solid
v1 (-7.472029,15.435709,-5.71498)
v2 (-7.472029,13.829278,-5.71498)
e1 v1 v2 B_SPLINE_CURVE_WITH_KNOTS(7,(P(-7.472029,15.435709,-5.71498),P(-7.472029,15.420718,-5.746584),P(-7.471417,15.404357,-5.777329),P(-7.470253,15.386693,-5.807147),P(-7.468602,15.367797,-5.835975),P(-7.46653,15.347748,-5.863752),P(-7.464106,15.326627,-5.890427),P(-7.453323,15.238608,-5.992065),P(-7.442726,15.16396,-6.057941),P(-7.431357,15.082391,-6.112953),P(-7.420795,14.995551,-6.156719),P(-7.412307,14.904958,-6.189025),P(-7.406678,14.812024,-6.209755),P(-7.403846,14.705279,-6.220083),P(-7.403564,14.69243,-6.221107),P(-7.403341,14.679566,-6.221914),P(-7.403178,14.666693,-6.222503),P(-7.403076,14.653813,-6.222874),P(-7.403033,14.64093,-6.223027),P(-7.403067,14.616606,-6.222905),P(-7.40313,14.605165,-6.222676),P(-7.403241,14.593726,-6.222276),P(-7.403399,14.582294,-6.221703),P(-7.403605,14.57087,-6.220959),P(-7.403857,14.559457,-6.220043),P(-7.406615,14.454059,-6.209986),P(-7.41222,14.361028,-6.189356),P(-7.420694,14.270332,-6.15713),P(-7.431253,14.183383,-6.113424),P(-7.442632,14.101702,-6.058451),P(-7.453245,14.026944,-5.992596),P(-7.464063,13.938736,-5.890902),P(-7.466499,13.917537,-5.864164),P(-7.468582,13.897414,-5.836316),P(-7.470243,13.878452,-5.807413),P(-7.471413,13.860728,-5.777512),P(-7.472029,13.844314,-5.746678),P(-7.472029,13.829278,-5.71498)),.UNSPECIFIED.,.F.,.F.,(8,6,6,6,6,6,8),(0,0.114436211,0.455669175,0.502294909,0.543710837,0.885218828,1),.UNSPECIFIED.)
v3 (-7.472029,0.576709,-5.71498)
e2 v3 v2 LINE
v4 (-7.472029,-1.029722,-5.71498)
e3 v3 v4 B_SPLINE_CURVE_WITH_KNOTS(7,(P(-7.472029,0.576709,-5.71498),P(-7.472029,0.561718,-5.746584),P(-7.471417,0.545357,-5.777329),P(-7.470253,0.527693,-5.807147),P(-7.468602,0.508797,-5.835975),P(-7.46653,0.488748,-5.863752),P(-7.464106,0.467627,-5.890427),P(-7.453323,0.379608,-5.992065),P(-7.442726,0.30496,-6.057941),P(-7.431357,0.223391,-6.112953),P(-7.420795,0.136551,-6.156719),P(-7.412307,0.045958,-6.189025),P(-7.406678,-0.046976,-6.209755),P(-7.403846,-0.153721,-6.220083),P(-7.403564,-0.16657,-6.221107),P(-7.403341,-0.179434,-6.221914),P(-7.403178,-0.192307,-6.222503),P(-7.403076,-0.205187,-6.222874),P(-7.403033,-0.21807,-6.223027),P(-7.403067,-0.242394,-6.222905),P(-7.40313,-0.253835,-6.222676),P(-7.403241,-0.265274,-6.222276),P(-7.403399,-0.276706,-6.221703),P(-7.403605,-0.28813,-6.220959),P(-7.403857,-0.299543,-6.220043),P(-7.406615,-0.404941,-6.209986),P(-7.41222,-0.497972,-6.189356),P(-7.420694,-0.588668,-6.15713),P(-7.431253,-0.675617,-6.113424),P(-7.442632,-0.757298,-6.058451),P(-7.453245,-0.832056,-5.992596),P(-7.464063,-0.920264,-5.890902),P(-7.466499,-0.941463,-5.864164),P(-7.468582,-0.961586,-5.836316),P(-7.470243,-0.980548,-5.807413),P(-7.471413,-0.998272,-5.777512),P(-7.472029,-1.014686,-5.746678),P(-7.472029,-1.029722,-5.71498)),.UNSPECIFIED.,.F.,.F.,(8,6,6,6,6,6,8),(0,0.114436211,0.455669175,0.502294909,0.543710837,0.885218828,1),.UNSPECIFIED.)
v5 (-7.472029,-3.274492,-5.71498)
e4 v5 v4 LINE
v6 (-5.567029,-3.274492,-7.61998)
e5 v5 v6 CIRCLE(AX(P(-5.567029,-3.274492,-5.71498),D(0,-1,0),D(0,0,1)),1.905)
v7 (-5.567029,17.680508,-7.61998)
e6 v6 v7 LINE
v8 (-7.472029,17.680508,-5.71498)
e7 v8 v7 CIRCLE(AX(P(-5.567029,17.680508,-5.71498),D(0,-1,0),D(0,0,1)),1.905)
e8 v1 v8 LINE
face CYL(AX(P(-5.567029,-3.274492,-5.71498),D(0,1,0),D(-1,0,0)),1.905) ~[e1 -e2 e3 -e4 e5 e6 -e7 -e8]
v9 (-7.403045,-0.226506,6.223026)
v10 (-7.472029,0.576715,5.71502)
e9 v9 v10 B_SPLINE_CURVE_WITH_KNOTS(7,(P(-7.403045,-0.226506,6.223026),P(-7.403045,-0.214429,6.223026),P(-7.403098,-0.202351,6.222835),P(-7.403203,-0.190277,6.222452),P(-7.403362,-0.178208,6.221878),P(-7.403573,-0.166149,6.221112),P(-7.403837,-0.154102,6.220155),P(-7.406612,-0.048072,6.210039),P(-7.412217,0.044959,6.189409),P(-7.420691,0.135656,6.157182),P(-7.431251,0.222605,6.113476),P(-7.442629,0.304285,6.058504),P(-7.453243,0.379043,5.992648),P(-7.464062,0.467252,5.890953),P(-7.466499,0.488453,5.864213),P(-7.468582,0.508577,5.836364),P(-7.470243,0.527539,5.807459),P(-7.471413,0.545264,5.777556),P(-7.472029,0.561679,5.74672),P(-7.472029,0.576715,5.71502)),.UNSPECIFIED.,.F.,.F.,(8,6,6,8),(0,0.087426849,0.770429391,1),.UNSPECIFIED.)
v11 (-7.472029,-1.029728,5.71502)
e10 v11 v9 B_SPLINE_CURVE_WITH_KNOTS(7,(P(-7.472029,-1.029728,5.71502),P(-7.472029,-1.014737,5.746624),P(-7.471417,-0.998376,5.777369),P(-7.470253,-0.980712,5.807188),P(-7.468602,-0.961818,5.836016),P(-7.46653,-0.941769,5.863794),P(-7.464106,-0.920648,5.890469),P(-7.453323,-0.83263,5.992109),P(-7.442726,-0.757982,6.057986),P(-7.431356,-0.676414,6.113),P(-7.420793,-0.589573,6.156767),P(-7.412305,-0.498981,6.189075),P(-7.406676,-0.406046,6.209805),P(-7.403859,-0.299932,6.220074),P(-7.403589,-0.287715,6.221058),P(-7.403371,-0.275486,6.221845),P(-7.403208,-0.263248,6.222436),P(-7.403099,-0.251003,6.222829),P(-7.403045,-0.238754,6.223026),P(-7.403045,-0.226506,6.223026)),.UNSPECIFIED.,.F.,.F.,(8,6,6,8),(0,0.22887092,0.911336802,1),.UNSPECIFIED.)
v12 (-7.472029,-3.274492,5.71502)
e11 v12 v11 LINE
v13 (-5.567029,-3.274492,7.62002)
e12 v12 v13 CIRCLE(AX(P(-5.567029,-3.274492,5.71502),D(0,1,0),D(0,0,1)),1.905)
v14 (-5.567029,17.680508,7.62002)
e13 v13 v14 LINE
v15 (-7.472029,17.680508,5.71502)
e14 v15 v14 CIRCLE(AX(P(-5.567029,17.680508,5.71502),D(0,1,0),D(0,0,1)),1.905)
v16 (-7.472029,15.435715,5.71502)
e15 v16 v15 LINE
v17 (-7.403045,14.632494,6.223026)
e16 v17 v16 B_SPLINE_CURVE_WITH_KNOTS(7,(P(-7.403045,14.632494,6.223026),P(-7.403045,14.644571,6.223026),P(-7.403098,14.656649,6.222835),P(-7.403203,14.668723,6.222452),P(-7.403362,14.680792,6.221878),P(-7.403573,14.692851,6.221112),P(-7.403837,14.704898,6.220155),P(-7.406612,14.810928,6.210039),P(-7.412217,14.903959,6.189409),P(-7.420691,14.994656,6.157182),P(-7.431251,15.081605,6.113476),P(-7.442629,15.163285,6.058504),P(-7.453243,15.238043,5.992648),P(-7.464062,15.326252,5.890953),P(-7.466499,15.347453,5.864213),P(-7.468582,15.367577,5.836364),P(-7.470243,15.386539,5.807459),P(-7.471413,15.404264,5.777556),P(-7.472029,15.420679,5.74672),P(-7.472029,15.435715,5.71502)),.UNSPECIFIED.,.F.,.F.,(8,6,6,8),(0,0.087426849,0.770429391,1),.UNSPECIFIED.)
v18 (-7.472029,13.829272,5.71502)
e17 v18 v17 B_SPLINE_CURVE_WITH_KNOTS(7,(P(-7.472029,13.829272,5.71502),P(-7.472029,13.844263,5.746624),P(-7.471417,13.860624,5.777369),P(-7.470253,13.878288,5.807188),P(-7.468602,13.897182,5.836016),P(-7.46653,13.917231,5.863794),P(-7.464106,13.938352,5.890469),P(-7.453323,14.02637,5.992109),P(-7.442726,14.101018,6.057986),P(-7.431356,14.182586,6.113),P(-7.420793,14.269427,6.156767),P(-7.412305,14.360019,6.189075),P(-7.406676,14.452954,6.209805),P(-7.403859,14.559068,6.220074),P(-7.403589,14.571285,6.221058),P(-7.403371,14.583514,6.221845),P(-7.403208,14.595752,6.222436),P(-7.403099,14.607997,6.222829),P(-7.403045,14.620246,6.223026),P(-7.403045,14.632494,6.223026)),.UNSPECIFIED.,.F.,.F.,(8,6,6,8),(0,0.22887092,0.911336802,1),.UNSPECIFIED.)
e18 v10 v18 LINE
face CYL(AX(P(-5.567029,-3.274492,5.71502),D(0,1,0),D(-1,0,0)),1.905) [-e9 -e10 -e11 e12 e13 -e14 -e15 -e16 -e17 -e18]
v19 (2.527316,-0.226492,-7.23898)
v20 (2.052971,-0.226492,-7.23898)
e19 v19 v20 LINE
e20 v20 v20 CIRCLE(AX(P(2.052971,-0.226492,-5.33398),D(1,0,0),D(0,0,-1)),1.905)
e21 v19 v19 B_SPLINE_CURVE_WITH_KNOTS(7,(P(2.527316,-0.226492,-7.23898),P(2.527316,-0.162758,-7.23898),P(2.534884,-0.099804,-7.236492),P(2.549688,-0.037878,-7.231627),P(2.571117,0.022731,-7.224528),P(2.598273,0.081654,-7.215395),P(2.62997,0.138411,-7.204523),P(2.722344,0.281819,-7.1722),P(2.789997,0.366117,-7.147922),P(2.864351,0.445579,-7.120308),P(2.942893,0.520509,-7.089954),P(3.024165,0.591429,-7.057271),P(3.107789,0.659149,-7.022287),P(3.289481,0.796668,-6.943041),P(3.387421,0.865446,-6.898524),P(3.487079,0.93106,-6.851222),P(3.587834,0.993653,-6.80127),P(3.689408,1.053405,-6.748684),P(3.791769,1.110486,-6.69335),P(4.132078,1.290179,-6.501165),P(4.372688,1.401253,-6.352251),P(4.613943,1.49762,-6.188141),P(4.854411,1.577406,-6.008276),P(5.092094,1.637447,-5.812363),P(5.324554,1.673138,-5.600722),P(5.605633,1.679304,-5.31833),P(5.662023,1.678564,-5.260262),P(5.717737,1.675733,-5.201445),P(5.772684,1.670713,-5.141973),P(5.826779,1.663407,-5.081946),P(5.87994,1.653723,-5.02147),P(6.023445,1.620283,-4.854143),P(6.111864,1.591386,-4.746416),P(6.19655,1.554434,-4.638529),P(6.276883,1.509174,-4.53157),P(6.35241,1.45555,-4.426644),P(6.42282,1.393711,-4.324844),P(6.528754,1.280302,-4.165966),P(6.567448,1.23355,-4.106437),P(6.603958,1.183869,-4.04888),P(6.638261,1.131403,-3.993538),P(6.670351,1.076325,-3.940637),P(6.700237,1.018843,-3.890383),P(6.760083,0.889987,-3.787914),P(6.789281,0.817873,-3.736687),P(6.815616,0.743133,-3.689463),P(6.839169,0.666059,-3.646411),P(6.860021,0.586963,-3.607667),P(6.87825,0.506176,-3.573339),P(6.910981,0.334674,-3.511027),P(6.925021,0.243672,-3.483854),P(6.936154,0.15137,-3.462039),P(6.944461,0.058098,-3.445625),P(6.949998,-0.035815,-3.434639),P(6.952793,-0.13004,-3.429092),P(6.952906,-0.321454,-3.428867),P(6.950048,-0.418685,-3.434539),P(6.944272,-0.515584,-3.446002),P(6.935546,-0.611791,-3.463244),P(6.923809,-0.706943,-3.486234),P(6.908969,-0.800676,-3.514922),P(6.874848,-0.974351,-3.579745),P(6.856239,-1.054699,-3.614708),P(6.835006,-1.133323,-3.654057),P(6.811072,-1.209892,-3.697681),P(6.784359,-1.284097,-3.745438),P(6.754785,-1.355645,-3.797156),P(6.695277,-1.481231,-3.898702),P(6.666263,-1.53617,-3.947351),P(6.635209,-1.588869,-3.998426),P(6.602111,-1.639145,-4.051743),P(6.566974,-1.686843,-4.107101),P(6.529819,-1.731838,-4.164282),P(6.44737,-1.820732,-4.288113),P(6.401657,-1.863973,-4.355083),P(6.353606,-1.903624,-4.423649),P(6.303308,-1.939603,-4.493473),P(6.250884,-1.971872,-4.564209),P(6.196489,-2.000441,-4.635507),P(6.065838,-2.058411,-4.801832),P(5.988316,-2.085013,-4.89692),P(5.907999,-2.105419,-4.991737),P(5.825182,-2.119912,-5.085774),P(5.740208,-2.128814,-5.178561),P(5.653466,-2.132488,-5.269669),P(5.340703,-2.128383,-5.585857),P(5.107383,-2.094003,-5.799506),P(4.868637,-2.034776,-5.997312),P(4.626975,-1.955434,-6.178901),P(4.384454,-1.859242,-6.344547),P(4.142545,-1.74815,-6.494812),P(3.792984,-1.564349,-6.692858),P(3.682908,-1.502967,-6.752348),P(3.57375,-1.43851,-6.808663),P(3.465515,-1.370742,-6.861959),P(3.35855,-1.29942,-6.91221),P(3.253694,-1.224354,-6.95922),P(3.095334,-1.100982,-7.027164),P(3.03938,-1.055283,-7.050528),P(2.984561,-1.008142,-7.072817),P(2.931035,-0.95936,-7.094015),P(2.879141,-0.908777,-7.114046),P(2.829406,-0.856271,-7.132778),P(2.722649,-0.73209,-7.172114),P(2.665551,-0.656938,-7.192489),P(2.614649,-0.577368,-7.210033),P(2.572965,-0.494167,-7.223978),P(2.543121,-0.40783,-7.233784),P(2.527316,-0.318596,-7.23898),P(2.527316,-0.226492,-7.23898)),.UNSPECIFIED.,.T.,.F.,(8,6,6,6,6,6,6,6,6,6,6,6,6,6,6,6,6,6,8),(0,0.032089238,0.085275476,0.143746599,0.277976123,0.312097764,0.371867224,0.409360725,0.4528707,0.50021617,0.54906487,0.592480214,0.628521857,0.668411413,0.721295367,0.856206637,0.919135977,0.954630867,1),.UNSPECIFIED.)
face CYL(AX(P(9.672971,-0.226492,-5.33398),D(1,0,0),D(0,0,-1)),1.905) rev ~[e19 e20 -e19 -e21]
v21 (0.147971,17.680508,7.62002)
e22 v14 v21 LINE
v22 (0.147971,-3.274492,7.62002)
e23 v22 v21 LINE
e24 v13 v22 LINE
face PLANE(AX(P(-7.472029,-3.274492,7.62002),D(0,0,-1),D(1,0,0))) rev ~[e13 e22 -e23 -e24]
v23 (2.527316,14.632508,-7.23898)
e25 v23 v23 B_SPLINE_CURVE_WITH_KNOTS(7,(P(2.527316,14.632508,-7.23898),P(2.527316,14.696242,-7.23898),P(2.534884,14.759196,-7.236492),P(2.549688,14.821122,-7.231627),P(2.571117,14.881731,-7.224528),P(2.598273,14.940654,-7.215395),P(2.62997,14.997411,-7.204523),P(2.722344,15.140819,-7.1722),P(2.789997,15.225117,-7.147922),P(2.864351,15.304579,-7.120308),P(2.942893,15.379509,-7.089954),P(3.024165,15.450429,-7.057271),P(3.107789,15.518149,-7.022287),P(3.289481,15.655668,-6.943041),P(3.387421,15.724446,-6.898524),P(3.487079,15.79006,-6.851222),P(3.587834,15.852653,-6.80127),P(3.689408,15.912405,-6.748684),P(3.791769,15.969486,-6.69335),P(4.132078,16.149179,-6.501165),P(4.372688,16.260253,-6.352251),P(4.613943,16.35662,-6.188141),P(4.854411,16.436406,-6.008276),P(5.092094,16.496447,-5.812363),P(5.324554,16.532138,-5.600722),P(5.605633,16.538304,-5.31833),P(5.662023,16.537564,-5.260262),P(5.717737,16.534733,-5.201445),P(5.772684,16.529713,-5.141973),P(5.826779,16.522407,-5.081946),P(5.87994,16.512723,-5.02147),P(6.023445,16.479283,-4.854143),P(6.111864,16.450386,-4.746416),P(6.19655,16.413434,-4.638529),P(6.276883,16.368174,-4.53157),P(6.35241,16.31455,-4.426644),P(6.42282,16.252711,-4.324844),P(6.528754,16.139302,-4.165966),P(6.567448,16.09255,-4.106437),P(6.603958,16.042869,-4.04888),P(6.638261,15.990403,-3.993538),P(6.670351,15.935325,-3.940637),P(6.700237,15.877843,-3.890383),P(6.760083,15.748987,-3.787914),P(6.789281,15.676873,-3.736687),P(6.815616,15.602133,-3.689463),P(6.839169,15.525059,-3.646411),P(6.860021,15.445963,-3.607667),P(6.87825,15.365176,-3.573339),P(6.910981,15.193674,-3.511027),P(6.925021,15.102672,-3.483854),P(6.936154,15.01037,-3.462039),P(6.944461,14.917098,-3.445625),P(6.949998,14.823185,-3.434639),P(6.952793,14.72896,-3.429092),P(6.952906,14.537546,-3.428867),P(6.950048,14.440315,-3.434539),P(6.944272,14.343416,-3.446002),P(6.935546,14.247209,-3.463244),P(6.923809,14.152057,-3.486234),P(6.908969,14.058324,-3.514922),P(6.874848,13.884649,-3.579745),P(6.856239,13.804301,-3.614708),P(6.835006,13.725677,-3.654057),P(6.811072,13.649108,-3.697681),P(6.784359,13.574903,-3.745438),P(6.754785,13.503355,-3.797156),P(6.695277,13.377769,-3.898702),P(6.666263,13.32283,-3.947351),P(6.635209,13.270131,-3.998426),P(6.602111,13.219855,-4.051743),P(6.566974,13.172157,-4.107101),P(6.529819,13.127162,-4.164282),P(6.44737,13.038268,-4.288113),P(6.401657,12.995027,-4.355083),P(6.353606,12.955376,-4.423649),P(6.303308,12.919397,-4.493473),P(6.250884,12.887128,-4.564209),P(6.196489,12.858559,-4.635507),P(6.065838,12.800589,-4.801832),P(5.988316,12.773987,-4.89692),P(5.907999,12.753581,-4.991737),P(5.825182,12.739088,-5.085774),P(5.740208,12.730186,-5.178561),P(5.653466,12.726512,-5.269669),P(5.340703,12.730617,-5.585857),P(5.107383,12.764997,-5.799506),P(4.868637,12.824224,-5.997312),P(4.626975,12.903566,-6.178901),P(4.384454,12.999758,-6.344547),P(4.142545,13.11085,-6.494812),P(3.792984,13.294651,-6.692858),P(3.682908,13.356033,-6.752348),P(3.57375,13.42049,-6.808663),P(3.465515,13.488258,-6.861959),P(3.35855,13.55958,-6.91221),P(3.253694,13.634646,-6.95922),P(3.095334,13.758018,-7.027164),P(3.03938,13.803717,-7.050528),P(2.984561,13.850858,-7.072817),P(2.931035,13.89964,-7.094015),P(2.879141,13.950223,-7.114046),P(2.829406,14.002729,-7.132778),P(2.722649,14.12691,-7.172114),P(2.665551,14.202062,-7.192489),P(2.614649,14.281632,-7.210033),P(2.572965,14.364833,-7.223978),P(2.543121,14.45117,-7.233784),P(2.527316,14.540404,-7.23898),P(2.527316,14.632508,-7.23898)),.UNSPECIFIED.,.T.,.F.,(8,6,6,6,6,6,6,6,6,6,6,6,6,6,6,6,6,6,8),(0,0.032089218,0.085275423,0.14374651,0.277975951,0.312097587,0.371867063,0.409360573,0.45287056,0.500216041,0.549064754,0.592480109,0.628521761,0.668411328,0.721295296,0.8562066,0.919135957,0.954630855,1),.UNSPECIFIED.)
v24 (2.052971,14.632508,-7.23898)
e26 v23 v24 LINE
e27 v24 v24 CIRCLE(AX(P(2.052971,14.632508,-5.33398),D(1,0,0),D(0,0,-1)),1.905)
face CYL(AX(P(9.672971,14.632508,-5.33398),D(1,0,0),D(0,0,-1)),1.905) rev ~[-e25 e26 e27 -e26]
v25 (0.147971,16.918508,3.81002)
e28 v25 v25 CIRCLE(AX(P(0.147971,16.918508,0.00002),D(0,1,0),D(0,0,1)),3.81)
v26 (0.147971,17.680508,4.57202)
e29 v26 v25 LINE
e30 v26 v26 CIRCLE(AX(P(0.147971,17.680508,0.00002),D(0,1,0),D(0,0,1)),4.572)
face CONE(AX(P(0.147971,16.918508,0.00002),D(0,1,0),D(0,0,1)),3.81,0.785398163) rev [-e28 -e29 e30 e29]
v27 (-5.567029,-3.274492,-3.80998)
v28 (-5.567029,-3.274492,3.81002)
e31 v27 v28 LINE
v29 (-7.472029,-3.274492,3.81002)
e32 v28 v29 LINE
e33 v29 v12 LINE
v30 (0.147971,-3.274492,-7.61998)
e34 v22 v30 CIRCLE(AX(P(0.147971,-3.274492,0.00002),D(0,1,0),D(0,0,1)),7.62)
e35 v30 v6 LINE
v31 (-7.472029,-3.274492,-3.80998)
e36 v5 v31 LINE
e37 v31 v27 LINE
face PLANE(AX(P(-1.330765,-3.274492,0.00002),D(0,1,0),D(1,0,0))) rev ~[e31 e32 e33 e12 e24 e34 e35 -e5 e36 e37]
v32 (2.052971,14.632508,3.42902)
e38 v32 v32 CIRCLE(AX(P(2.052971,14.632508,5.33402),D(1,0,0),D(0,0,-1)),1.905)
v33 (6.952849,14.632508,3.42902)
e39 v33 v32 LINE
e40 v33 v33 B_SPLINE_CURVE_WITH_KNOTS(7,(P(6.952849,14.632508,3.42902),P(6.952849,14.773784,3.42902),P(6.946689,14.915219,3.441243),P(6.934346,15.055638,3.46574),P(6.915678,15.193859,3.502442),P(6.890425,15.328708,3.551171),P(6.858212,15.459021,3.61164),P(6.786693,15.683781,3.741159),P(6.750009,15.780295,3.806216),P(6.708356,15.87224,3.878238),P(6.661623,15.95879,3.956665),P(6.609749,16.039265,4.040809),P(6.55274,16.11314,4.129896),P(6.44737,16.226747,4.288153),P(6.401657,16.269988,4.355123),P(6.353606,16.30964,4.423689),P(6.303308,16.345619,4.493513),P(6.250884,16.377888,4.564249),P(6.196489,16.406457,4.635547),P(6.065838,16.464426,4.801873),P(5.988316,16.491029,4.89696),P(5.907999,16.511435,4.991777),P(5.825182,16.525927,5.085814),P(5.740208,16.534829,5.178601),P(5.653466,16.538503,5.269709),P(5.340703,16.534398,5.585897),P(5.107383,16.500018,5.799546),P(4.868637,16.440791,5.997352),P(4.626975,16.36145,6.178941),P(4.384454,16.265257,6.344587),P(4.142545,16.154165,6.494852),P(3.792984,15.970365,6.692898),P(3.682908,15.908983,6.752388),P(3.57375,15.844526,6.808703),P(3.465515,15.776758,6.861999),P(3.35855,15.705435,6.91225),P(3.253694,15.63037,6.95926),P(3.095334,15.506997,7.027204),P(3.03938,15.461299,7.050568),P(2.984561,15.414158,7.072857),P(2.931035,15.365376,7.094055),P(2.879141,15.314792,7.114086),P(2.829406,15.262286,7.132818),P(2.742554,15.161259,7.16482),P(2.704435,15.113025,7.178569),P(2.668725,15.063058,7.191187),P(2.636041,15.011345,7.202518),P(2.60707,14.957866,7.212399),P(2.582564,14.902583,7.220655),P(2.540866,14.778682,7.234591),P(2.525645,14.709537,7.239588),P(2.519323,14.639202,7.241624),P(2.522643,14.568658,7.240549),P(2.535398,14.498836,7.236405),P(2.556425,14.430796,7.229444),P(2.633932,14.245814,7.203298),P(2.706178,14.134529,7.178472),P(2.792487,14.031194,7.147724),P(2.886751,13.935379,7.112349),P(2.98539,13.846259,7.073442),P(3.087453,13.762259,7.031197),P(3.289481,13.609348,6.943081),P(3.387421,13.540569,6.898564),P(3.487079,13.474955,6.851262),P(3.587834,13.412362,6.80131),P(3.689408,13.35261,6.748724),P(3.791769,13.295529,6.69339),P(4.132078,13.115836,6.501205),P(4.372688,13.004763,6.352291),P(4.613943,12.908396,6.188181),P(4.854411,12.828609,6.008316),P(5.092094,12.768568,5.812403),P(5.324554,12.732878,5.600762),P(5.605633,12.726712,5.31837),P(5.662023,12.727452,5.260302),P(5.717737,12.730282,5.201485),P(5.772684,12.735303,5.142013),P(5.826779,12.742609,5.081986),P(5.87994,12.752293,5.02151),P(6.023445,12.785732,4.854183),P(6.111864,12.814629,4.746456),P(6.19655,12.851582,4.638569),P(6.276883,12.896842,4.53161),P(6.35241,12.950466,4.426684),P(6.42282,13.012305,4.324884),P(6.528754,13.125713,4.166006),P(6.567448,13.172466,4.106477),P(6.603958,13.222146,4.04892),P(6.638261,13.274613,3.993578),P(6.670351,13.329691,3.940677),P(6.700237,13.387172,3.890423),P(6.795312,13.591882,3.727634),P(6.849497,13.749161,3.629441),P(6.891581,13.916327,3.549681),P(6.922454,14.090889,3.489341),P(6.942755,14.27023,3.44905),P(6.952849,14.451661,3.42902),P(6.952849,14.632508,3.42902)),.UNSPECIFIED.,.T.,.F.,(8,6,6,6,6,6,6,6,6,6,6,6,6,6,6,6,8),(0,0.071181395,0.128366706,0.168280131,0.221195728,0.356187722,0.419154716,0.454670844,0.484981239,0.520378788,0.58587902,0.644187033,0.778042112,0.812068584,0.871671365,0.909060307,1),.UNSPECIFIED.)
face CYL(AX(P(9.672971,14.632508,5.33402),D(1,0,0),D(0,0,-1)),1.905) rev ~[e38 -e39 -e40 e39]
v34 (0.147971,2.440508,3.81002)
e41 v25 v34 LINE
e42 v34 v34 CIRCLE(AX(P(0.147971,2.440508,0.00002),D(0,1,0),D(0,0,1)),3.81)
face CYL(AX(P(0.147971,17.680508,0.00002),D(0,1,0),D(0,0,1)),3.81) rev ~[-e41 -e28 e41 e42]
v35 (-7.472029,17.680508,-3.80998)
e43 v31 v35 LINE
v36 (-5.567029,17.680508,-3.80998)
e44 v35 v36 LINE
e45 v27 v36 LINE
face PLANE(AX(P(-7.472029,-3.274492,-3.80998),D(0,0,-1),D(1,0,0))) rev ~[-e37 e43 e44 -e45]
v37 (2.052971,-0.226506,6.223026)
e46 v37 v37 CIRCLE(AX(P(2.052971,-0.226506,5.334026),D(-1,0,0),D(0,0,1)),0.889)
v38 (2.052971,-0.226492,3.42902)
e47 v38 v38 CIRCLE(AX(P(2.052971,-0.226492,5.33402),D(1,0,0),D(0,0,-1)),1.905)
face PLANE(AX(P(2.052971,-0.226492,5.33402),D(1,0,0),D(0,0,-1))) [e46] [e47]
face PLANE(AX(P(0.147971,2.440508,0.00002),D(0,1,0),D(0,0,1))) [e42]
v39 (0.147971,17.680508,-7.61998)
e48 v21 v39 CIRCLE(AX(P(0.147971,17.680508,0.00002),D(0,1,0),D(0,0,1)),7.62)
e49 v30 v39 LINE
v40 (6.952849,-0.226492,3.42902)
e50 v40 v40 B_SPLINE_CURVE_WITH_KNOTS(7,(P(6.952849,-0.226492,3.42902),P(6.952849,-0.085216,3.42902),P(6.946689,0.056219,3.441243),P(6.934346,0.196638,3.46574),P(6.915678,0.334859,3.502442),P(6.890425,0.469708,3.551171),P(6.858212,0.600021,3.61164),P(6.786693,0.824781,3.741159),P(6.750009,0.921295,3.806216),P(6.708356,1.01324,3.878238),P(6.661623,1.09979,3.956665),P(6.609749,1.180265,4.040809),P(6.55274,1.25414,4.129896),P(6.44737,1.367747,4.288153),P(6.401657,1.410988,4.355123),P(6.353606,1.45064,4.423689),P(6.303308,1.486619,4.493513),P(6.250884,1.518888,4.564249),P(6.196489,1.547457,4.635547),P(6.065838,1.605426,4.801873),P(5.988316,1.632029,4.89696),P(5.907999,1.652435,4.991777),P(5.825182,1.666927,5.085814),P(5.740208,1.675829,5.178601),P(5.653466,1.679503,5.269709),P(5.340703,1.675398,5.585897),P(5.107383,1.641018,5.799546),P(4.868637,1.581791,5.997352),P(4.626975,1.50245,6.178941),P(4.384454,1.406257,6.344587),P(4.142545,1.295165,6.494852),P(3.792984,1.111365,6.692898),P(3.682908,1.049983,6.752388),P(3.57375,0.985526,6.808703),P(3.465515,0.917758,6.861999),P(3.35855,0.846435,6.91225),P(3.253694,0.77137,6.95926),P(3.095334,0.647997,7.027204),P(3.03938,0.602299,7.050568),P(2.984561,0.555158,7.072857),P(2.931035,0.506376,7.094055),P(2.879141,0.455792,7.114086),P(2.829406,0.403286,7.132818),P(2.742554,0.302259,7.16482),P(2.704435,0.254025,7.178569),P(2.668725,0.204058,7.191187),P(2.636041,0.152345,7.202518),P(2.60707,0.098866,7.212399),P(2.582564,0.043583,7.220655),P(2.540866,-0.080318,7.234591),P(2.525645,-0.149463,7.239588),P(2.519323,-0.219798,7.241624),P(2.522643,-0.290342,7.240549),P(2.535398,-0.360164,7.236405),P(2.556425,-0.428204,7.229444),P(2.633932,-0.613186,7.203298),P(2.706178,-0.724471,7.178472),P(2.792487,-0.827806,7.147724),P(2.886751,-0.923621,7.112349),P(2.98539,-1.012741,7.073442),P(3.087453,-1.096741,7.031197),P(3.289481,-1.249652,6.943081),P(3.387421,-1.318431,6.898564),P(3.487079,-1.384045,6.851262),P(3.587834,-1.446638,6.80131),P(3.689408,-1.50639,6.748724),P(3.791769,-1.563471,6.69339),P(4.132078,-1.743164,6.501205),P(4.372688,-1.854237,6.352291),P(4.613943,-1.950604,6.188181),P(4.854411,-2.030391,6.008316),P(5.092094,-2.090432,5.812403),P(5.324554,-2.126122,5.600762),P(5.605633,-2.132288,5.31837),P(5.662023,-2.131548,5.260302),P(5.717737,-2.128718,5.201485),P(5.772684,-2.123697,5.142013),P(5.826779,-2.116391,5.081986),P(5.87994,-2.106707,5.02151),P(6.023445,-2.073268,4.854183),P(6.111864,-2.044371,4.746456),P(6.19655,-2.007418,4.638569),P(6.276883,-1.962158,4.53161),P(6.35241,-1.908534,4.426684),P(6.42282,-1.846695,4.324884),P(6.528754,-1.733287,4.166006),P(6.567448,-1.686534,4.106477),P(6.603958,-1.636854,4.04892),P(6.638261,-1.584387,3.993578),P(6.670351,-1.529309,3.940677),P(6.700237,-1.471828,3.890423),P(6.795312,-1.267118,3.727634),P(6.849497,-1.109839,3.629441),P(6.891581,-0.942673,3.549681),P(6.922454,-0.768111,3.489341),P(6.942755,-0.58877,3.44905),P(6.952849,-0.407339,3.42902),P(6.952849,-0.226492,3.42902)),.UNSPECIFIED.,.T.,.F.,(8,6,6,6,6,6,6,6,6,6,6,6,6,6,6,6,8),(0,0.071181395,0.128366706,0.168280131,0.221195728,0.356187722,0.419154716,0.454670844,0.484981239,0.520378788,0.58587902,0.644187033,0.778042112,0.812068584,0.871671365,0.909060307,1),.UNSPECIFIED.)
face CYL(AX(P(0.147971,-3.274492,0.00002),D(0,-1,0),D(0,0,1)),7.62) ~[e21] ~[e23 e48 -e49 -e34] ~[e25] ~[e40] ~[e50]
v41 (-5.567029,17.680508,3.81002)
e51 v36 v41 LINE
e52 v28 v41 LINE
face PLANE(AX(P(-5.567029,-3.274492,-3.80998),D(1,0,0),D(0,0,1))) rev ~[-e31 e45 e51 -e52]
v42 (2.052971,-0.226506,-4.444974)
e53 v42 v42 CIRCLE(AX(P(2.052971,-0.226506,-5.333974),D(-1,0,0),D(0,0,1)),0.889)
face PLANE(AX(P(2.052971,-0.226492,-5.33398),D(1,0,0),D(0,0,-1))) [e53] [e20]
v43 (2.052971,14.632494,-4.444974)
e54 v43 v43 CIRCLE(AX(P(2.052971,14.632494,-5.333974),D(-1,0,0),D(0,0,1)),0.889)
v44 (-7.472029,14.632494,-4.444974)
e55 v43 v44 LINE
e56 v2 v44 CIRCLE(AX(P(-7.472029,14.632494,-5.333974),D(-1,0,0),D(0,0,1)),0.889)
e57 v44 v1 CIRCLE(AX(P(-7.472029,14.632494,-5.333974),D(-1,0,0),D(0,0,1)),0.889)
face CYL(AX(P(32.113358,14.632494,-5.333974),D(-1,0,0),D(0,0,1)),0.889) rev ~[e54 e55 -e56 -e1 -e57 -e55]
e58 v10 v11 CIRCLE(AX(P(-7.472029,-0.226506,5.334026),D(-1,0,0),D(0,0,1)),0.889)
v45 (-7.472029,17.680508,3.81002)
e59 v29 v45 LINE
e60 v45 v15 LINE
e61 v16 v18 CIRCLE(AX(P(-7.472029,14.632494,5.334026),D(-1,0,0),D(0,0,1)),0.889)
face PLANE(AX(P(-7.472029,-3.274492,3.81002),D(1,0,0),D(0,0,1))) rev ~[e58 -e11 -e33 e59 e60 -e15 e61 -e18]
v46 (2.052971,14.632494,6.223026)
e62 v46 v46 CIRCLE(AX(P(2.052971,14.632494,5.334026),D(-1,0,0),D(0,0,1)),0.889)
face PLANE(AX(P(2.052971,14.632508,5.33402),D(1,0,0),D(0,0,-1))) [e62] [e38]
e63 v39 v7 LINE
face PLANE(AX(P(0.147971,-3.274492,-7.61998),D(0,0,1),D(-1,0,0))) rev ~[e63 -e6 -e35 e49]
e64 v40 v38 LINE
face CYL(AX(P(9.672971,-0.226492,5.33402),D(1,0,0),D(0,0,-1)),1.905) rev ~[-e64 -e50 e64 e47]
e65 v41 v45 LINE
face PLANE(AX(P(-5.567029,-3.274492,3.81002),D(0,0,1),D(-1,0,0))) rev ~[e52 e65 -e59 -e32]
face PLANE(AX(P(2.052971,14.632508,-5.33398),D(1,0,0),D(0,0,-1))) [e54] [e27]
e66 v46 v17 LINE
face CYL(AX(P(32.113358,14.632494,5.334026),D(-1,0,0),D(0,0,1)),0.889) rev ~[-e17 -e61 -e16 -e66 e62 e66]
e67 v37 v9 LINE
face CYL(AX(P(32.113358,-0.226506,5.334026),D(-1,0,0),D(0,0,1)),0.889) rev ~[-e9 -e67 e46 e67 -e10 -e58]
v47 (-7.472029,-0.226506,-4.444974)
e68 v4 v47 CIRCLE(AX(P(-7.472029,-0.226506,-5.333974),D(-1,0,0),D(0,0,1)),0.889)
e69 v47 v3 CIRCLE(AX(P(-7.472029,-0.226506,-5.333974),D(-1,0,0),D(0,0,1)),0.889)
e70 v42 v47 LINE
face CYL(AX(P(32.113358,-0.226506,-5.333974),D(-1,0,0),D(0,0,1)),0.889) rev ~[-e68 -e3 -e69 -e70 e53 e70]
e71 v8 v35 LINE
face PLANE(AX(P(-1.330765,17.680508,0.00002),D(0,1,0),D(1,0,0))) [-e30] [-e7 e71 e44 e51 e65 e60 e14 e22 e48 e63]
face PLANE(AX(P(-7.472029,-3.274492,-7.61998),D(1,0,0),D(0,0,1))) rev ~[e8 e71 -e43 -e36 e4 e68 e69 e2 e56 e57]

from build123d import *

# Parameters (mm, degrees)
BOSS_EXTRUDE1_DEPTH        = 13.97
SKETCH2_R                  = 2.54
CUT_EXTRUDE1_DEPTH         = 10.16
CUT_EXTRUDE3_START         = 6.35
SKETCH4_R                  = 1.27
CUT_EXTRUDE3_DEPTH         = 5.08
FILLET2_R                  = 1.27
CHAMFER2_SIZE              = 0.508
SCALE1_SCALE               = 1.5
F_50_0_07_DIAMETER_HOLE1_D = 1.778


with BuildPart() as part:
    # Sketch1 → Boss-Extrude1 (new body)
    with BuildSketch(Plane(origin=(0, 0, 0), x_dir=(1, 0, 0), z_dir=(0, 1, 0))):
        with BuildLine():
            Line((-5.08, 2.54), (-3.81, 2.54))
            Line((-3.81, 2.54), (-3.81, -2.54))
            Line((-3.81, -2.54), (-5.08, -2.54))
            Line((-5.08, -2.54), (-5.08, -5.08))
            Line((-5.08, -5.08), (0, -5.08))
            ThreePointArc((0, -5.08), (5.08, 0), (0, 5.08))
            Line((0, 5.08), (-5.08, 5.08))
            Line((-5.08, 5.08), (-5.08, 2.54))
        make_face()
    extrude(amount=BOSS_EXTRUDE1_DEPTH)

    # Sketch2 → Cut-Extrude1 (cut)
    with BuildSketch(Plane(origin=(0, 13.97, 0), x_dir=(1, 0, 0), z_dir=(0, 1, 0))):
        with Locations(Location((0, 0, 0), (0, 0, 270))):
            Circle(SKETCH2_R)
    extrude(amount=-CUT_EXTRUDE1_DEPTH, mode=Mode.SUBTRACT)

    # Sketch4 → Cut-Extrude3 (cut)
    with BuildSketch(Plane(origin=(0, 0, 0), x_dir=(0, 0, -1), z_dir=(1, 0, 0)).offset(CUT_EXTRUDE3_START)):
        with Locations((-3.556, 2.032)):
            Circle(SKETCH4_R)
        with Locations((3.556, 2.032)):
            Circle(SKETCH4_R)
        with Locations((-3.556, 11.938)):
            Circle(SKETCH4_R)
        with Locations((3.556, 11.938)):
            Circle(SKETCH4_R)
    extrude(amount=-CUT_EXTRUDE3_DEPTH, mode=Mode.SUBTRACT)

    # Fillet2
    fillet2_edges = [part.edges().sort_by_distance(p)[0] for p in [
        (-5.08, 6.985, -5.08),
        (-5.08, 6.985, 5.08),
    ]]
    fillet(fillet2_edges, radius=FILLET2_R)

    # Chamfer2
    chamfer2_edges = [part.edges().sort_by_distance(p)[0] for p in [
        (0, 13.97, -2.54),
    ]]
    chamfer(chamfer2_edges, length=CHAMFER2_SIZE)


with BuildPart() as part_1:
    # Scale1: scaled about (-0.295942874, 6.548984476, -4.0012e-05)
    add(part.part.scale(SCALE1_SCALE).moved(Location((0.147971437, -3.274492238, 2.0006e-05))))

    # #50 (0.07) Diameter Hole1 (through all)
    with Locations(Plane(origin=(2.052964344, 0, 0), x_dir=(0, 0, -1), z_dir=(1, 0, 0))):
        with Locations((-5.334026182, -0.226506275), (5.333973818, -0.226506275), (5.333973818, 14.632493725), (-5.334026182, 14.632493725)):
            Hole(F_50_0_07_DIAMETER_HOLE1_D / 2)


solid = part_1.part
